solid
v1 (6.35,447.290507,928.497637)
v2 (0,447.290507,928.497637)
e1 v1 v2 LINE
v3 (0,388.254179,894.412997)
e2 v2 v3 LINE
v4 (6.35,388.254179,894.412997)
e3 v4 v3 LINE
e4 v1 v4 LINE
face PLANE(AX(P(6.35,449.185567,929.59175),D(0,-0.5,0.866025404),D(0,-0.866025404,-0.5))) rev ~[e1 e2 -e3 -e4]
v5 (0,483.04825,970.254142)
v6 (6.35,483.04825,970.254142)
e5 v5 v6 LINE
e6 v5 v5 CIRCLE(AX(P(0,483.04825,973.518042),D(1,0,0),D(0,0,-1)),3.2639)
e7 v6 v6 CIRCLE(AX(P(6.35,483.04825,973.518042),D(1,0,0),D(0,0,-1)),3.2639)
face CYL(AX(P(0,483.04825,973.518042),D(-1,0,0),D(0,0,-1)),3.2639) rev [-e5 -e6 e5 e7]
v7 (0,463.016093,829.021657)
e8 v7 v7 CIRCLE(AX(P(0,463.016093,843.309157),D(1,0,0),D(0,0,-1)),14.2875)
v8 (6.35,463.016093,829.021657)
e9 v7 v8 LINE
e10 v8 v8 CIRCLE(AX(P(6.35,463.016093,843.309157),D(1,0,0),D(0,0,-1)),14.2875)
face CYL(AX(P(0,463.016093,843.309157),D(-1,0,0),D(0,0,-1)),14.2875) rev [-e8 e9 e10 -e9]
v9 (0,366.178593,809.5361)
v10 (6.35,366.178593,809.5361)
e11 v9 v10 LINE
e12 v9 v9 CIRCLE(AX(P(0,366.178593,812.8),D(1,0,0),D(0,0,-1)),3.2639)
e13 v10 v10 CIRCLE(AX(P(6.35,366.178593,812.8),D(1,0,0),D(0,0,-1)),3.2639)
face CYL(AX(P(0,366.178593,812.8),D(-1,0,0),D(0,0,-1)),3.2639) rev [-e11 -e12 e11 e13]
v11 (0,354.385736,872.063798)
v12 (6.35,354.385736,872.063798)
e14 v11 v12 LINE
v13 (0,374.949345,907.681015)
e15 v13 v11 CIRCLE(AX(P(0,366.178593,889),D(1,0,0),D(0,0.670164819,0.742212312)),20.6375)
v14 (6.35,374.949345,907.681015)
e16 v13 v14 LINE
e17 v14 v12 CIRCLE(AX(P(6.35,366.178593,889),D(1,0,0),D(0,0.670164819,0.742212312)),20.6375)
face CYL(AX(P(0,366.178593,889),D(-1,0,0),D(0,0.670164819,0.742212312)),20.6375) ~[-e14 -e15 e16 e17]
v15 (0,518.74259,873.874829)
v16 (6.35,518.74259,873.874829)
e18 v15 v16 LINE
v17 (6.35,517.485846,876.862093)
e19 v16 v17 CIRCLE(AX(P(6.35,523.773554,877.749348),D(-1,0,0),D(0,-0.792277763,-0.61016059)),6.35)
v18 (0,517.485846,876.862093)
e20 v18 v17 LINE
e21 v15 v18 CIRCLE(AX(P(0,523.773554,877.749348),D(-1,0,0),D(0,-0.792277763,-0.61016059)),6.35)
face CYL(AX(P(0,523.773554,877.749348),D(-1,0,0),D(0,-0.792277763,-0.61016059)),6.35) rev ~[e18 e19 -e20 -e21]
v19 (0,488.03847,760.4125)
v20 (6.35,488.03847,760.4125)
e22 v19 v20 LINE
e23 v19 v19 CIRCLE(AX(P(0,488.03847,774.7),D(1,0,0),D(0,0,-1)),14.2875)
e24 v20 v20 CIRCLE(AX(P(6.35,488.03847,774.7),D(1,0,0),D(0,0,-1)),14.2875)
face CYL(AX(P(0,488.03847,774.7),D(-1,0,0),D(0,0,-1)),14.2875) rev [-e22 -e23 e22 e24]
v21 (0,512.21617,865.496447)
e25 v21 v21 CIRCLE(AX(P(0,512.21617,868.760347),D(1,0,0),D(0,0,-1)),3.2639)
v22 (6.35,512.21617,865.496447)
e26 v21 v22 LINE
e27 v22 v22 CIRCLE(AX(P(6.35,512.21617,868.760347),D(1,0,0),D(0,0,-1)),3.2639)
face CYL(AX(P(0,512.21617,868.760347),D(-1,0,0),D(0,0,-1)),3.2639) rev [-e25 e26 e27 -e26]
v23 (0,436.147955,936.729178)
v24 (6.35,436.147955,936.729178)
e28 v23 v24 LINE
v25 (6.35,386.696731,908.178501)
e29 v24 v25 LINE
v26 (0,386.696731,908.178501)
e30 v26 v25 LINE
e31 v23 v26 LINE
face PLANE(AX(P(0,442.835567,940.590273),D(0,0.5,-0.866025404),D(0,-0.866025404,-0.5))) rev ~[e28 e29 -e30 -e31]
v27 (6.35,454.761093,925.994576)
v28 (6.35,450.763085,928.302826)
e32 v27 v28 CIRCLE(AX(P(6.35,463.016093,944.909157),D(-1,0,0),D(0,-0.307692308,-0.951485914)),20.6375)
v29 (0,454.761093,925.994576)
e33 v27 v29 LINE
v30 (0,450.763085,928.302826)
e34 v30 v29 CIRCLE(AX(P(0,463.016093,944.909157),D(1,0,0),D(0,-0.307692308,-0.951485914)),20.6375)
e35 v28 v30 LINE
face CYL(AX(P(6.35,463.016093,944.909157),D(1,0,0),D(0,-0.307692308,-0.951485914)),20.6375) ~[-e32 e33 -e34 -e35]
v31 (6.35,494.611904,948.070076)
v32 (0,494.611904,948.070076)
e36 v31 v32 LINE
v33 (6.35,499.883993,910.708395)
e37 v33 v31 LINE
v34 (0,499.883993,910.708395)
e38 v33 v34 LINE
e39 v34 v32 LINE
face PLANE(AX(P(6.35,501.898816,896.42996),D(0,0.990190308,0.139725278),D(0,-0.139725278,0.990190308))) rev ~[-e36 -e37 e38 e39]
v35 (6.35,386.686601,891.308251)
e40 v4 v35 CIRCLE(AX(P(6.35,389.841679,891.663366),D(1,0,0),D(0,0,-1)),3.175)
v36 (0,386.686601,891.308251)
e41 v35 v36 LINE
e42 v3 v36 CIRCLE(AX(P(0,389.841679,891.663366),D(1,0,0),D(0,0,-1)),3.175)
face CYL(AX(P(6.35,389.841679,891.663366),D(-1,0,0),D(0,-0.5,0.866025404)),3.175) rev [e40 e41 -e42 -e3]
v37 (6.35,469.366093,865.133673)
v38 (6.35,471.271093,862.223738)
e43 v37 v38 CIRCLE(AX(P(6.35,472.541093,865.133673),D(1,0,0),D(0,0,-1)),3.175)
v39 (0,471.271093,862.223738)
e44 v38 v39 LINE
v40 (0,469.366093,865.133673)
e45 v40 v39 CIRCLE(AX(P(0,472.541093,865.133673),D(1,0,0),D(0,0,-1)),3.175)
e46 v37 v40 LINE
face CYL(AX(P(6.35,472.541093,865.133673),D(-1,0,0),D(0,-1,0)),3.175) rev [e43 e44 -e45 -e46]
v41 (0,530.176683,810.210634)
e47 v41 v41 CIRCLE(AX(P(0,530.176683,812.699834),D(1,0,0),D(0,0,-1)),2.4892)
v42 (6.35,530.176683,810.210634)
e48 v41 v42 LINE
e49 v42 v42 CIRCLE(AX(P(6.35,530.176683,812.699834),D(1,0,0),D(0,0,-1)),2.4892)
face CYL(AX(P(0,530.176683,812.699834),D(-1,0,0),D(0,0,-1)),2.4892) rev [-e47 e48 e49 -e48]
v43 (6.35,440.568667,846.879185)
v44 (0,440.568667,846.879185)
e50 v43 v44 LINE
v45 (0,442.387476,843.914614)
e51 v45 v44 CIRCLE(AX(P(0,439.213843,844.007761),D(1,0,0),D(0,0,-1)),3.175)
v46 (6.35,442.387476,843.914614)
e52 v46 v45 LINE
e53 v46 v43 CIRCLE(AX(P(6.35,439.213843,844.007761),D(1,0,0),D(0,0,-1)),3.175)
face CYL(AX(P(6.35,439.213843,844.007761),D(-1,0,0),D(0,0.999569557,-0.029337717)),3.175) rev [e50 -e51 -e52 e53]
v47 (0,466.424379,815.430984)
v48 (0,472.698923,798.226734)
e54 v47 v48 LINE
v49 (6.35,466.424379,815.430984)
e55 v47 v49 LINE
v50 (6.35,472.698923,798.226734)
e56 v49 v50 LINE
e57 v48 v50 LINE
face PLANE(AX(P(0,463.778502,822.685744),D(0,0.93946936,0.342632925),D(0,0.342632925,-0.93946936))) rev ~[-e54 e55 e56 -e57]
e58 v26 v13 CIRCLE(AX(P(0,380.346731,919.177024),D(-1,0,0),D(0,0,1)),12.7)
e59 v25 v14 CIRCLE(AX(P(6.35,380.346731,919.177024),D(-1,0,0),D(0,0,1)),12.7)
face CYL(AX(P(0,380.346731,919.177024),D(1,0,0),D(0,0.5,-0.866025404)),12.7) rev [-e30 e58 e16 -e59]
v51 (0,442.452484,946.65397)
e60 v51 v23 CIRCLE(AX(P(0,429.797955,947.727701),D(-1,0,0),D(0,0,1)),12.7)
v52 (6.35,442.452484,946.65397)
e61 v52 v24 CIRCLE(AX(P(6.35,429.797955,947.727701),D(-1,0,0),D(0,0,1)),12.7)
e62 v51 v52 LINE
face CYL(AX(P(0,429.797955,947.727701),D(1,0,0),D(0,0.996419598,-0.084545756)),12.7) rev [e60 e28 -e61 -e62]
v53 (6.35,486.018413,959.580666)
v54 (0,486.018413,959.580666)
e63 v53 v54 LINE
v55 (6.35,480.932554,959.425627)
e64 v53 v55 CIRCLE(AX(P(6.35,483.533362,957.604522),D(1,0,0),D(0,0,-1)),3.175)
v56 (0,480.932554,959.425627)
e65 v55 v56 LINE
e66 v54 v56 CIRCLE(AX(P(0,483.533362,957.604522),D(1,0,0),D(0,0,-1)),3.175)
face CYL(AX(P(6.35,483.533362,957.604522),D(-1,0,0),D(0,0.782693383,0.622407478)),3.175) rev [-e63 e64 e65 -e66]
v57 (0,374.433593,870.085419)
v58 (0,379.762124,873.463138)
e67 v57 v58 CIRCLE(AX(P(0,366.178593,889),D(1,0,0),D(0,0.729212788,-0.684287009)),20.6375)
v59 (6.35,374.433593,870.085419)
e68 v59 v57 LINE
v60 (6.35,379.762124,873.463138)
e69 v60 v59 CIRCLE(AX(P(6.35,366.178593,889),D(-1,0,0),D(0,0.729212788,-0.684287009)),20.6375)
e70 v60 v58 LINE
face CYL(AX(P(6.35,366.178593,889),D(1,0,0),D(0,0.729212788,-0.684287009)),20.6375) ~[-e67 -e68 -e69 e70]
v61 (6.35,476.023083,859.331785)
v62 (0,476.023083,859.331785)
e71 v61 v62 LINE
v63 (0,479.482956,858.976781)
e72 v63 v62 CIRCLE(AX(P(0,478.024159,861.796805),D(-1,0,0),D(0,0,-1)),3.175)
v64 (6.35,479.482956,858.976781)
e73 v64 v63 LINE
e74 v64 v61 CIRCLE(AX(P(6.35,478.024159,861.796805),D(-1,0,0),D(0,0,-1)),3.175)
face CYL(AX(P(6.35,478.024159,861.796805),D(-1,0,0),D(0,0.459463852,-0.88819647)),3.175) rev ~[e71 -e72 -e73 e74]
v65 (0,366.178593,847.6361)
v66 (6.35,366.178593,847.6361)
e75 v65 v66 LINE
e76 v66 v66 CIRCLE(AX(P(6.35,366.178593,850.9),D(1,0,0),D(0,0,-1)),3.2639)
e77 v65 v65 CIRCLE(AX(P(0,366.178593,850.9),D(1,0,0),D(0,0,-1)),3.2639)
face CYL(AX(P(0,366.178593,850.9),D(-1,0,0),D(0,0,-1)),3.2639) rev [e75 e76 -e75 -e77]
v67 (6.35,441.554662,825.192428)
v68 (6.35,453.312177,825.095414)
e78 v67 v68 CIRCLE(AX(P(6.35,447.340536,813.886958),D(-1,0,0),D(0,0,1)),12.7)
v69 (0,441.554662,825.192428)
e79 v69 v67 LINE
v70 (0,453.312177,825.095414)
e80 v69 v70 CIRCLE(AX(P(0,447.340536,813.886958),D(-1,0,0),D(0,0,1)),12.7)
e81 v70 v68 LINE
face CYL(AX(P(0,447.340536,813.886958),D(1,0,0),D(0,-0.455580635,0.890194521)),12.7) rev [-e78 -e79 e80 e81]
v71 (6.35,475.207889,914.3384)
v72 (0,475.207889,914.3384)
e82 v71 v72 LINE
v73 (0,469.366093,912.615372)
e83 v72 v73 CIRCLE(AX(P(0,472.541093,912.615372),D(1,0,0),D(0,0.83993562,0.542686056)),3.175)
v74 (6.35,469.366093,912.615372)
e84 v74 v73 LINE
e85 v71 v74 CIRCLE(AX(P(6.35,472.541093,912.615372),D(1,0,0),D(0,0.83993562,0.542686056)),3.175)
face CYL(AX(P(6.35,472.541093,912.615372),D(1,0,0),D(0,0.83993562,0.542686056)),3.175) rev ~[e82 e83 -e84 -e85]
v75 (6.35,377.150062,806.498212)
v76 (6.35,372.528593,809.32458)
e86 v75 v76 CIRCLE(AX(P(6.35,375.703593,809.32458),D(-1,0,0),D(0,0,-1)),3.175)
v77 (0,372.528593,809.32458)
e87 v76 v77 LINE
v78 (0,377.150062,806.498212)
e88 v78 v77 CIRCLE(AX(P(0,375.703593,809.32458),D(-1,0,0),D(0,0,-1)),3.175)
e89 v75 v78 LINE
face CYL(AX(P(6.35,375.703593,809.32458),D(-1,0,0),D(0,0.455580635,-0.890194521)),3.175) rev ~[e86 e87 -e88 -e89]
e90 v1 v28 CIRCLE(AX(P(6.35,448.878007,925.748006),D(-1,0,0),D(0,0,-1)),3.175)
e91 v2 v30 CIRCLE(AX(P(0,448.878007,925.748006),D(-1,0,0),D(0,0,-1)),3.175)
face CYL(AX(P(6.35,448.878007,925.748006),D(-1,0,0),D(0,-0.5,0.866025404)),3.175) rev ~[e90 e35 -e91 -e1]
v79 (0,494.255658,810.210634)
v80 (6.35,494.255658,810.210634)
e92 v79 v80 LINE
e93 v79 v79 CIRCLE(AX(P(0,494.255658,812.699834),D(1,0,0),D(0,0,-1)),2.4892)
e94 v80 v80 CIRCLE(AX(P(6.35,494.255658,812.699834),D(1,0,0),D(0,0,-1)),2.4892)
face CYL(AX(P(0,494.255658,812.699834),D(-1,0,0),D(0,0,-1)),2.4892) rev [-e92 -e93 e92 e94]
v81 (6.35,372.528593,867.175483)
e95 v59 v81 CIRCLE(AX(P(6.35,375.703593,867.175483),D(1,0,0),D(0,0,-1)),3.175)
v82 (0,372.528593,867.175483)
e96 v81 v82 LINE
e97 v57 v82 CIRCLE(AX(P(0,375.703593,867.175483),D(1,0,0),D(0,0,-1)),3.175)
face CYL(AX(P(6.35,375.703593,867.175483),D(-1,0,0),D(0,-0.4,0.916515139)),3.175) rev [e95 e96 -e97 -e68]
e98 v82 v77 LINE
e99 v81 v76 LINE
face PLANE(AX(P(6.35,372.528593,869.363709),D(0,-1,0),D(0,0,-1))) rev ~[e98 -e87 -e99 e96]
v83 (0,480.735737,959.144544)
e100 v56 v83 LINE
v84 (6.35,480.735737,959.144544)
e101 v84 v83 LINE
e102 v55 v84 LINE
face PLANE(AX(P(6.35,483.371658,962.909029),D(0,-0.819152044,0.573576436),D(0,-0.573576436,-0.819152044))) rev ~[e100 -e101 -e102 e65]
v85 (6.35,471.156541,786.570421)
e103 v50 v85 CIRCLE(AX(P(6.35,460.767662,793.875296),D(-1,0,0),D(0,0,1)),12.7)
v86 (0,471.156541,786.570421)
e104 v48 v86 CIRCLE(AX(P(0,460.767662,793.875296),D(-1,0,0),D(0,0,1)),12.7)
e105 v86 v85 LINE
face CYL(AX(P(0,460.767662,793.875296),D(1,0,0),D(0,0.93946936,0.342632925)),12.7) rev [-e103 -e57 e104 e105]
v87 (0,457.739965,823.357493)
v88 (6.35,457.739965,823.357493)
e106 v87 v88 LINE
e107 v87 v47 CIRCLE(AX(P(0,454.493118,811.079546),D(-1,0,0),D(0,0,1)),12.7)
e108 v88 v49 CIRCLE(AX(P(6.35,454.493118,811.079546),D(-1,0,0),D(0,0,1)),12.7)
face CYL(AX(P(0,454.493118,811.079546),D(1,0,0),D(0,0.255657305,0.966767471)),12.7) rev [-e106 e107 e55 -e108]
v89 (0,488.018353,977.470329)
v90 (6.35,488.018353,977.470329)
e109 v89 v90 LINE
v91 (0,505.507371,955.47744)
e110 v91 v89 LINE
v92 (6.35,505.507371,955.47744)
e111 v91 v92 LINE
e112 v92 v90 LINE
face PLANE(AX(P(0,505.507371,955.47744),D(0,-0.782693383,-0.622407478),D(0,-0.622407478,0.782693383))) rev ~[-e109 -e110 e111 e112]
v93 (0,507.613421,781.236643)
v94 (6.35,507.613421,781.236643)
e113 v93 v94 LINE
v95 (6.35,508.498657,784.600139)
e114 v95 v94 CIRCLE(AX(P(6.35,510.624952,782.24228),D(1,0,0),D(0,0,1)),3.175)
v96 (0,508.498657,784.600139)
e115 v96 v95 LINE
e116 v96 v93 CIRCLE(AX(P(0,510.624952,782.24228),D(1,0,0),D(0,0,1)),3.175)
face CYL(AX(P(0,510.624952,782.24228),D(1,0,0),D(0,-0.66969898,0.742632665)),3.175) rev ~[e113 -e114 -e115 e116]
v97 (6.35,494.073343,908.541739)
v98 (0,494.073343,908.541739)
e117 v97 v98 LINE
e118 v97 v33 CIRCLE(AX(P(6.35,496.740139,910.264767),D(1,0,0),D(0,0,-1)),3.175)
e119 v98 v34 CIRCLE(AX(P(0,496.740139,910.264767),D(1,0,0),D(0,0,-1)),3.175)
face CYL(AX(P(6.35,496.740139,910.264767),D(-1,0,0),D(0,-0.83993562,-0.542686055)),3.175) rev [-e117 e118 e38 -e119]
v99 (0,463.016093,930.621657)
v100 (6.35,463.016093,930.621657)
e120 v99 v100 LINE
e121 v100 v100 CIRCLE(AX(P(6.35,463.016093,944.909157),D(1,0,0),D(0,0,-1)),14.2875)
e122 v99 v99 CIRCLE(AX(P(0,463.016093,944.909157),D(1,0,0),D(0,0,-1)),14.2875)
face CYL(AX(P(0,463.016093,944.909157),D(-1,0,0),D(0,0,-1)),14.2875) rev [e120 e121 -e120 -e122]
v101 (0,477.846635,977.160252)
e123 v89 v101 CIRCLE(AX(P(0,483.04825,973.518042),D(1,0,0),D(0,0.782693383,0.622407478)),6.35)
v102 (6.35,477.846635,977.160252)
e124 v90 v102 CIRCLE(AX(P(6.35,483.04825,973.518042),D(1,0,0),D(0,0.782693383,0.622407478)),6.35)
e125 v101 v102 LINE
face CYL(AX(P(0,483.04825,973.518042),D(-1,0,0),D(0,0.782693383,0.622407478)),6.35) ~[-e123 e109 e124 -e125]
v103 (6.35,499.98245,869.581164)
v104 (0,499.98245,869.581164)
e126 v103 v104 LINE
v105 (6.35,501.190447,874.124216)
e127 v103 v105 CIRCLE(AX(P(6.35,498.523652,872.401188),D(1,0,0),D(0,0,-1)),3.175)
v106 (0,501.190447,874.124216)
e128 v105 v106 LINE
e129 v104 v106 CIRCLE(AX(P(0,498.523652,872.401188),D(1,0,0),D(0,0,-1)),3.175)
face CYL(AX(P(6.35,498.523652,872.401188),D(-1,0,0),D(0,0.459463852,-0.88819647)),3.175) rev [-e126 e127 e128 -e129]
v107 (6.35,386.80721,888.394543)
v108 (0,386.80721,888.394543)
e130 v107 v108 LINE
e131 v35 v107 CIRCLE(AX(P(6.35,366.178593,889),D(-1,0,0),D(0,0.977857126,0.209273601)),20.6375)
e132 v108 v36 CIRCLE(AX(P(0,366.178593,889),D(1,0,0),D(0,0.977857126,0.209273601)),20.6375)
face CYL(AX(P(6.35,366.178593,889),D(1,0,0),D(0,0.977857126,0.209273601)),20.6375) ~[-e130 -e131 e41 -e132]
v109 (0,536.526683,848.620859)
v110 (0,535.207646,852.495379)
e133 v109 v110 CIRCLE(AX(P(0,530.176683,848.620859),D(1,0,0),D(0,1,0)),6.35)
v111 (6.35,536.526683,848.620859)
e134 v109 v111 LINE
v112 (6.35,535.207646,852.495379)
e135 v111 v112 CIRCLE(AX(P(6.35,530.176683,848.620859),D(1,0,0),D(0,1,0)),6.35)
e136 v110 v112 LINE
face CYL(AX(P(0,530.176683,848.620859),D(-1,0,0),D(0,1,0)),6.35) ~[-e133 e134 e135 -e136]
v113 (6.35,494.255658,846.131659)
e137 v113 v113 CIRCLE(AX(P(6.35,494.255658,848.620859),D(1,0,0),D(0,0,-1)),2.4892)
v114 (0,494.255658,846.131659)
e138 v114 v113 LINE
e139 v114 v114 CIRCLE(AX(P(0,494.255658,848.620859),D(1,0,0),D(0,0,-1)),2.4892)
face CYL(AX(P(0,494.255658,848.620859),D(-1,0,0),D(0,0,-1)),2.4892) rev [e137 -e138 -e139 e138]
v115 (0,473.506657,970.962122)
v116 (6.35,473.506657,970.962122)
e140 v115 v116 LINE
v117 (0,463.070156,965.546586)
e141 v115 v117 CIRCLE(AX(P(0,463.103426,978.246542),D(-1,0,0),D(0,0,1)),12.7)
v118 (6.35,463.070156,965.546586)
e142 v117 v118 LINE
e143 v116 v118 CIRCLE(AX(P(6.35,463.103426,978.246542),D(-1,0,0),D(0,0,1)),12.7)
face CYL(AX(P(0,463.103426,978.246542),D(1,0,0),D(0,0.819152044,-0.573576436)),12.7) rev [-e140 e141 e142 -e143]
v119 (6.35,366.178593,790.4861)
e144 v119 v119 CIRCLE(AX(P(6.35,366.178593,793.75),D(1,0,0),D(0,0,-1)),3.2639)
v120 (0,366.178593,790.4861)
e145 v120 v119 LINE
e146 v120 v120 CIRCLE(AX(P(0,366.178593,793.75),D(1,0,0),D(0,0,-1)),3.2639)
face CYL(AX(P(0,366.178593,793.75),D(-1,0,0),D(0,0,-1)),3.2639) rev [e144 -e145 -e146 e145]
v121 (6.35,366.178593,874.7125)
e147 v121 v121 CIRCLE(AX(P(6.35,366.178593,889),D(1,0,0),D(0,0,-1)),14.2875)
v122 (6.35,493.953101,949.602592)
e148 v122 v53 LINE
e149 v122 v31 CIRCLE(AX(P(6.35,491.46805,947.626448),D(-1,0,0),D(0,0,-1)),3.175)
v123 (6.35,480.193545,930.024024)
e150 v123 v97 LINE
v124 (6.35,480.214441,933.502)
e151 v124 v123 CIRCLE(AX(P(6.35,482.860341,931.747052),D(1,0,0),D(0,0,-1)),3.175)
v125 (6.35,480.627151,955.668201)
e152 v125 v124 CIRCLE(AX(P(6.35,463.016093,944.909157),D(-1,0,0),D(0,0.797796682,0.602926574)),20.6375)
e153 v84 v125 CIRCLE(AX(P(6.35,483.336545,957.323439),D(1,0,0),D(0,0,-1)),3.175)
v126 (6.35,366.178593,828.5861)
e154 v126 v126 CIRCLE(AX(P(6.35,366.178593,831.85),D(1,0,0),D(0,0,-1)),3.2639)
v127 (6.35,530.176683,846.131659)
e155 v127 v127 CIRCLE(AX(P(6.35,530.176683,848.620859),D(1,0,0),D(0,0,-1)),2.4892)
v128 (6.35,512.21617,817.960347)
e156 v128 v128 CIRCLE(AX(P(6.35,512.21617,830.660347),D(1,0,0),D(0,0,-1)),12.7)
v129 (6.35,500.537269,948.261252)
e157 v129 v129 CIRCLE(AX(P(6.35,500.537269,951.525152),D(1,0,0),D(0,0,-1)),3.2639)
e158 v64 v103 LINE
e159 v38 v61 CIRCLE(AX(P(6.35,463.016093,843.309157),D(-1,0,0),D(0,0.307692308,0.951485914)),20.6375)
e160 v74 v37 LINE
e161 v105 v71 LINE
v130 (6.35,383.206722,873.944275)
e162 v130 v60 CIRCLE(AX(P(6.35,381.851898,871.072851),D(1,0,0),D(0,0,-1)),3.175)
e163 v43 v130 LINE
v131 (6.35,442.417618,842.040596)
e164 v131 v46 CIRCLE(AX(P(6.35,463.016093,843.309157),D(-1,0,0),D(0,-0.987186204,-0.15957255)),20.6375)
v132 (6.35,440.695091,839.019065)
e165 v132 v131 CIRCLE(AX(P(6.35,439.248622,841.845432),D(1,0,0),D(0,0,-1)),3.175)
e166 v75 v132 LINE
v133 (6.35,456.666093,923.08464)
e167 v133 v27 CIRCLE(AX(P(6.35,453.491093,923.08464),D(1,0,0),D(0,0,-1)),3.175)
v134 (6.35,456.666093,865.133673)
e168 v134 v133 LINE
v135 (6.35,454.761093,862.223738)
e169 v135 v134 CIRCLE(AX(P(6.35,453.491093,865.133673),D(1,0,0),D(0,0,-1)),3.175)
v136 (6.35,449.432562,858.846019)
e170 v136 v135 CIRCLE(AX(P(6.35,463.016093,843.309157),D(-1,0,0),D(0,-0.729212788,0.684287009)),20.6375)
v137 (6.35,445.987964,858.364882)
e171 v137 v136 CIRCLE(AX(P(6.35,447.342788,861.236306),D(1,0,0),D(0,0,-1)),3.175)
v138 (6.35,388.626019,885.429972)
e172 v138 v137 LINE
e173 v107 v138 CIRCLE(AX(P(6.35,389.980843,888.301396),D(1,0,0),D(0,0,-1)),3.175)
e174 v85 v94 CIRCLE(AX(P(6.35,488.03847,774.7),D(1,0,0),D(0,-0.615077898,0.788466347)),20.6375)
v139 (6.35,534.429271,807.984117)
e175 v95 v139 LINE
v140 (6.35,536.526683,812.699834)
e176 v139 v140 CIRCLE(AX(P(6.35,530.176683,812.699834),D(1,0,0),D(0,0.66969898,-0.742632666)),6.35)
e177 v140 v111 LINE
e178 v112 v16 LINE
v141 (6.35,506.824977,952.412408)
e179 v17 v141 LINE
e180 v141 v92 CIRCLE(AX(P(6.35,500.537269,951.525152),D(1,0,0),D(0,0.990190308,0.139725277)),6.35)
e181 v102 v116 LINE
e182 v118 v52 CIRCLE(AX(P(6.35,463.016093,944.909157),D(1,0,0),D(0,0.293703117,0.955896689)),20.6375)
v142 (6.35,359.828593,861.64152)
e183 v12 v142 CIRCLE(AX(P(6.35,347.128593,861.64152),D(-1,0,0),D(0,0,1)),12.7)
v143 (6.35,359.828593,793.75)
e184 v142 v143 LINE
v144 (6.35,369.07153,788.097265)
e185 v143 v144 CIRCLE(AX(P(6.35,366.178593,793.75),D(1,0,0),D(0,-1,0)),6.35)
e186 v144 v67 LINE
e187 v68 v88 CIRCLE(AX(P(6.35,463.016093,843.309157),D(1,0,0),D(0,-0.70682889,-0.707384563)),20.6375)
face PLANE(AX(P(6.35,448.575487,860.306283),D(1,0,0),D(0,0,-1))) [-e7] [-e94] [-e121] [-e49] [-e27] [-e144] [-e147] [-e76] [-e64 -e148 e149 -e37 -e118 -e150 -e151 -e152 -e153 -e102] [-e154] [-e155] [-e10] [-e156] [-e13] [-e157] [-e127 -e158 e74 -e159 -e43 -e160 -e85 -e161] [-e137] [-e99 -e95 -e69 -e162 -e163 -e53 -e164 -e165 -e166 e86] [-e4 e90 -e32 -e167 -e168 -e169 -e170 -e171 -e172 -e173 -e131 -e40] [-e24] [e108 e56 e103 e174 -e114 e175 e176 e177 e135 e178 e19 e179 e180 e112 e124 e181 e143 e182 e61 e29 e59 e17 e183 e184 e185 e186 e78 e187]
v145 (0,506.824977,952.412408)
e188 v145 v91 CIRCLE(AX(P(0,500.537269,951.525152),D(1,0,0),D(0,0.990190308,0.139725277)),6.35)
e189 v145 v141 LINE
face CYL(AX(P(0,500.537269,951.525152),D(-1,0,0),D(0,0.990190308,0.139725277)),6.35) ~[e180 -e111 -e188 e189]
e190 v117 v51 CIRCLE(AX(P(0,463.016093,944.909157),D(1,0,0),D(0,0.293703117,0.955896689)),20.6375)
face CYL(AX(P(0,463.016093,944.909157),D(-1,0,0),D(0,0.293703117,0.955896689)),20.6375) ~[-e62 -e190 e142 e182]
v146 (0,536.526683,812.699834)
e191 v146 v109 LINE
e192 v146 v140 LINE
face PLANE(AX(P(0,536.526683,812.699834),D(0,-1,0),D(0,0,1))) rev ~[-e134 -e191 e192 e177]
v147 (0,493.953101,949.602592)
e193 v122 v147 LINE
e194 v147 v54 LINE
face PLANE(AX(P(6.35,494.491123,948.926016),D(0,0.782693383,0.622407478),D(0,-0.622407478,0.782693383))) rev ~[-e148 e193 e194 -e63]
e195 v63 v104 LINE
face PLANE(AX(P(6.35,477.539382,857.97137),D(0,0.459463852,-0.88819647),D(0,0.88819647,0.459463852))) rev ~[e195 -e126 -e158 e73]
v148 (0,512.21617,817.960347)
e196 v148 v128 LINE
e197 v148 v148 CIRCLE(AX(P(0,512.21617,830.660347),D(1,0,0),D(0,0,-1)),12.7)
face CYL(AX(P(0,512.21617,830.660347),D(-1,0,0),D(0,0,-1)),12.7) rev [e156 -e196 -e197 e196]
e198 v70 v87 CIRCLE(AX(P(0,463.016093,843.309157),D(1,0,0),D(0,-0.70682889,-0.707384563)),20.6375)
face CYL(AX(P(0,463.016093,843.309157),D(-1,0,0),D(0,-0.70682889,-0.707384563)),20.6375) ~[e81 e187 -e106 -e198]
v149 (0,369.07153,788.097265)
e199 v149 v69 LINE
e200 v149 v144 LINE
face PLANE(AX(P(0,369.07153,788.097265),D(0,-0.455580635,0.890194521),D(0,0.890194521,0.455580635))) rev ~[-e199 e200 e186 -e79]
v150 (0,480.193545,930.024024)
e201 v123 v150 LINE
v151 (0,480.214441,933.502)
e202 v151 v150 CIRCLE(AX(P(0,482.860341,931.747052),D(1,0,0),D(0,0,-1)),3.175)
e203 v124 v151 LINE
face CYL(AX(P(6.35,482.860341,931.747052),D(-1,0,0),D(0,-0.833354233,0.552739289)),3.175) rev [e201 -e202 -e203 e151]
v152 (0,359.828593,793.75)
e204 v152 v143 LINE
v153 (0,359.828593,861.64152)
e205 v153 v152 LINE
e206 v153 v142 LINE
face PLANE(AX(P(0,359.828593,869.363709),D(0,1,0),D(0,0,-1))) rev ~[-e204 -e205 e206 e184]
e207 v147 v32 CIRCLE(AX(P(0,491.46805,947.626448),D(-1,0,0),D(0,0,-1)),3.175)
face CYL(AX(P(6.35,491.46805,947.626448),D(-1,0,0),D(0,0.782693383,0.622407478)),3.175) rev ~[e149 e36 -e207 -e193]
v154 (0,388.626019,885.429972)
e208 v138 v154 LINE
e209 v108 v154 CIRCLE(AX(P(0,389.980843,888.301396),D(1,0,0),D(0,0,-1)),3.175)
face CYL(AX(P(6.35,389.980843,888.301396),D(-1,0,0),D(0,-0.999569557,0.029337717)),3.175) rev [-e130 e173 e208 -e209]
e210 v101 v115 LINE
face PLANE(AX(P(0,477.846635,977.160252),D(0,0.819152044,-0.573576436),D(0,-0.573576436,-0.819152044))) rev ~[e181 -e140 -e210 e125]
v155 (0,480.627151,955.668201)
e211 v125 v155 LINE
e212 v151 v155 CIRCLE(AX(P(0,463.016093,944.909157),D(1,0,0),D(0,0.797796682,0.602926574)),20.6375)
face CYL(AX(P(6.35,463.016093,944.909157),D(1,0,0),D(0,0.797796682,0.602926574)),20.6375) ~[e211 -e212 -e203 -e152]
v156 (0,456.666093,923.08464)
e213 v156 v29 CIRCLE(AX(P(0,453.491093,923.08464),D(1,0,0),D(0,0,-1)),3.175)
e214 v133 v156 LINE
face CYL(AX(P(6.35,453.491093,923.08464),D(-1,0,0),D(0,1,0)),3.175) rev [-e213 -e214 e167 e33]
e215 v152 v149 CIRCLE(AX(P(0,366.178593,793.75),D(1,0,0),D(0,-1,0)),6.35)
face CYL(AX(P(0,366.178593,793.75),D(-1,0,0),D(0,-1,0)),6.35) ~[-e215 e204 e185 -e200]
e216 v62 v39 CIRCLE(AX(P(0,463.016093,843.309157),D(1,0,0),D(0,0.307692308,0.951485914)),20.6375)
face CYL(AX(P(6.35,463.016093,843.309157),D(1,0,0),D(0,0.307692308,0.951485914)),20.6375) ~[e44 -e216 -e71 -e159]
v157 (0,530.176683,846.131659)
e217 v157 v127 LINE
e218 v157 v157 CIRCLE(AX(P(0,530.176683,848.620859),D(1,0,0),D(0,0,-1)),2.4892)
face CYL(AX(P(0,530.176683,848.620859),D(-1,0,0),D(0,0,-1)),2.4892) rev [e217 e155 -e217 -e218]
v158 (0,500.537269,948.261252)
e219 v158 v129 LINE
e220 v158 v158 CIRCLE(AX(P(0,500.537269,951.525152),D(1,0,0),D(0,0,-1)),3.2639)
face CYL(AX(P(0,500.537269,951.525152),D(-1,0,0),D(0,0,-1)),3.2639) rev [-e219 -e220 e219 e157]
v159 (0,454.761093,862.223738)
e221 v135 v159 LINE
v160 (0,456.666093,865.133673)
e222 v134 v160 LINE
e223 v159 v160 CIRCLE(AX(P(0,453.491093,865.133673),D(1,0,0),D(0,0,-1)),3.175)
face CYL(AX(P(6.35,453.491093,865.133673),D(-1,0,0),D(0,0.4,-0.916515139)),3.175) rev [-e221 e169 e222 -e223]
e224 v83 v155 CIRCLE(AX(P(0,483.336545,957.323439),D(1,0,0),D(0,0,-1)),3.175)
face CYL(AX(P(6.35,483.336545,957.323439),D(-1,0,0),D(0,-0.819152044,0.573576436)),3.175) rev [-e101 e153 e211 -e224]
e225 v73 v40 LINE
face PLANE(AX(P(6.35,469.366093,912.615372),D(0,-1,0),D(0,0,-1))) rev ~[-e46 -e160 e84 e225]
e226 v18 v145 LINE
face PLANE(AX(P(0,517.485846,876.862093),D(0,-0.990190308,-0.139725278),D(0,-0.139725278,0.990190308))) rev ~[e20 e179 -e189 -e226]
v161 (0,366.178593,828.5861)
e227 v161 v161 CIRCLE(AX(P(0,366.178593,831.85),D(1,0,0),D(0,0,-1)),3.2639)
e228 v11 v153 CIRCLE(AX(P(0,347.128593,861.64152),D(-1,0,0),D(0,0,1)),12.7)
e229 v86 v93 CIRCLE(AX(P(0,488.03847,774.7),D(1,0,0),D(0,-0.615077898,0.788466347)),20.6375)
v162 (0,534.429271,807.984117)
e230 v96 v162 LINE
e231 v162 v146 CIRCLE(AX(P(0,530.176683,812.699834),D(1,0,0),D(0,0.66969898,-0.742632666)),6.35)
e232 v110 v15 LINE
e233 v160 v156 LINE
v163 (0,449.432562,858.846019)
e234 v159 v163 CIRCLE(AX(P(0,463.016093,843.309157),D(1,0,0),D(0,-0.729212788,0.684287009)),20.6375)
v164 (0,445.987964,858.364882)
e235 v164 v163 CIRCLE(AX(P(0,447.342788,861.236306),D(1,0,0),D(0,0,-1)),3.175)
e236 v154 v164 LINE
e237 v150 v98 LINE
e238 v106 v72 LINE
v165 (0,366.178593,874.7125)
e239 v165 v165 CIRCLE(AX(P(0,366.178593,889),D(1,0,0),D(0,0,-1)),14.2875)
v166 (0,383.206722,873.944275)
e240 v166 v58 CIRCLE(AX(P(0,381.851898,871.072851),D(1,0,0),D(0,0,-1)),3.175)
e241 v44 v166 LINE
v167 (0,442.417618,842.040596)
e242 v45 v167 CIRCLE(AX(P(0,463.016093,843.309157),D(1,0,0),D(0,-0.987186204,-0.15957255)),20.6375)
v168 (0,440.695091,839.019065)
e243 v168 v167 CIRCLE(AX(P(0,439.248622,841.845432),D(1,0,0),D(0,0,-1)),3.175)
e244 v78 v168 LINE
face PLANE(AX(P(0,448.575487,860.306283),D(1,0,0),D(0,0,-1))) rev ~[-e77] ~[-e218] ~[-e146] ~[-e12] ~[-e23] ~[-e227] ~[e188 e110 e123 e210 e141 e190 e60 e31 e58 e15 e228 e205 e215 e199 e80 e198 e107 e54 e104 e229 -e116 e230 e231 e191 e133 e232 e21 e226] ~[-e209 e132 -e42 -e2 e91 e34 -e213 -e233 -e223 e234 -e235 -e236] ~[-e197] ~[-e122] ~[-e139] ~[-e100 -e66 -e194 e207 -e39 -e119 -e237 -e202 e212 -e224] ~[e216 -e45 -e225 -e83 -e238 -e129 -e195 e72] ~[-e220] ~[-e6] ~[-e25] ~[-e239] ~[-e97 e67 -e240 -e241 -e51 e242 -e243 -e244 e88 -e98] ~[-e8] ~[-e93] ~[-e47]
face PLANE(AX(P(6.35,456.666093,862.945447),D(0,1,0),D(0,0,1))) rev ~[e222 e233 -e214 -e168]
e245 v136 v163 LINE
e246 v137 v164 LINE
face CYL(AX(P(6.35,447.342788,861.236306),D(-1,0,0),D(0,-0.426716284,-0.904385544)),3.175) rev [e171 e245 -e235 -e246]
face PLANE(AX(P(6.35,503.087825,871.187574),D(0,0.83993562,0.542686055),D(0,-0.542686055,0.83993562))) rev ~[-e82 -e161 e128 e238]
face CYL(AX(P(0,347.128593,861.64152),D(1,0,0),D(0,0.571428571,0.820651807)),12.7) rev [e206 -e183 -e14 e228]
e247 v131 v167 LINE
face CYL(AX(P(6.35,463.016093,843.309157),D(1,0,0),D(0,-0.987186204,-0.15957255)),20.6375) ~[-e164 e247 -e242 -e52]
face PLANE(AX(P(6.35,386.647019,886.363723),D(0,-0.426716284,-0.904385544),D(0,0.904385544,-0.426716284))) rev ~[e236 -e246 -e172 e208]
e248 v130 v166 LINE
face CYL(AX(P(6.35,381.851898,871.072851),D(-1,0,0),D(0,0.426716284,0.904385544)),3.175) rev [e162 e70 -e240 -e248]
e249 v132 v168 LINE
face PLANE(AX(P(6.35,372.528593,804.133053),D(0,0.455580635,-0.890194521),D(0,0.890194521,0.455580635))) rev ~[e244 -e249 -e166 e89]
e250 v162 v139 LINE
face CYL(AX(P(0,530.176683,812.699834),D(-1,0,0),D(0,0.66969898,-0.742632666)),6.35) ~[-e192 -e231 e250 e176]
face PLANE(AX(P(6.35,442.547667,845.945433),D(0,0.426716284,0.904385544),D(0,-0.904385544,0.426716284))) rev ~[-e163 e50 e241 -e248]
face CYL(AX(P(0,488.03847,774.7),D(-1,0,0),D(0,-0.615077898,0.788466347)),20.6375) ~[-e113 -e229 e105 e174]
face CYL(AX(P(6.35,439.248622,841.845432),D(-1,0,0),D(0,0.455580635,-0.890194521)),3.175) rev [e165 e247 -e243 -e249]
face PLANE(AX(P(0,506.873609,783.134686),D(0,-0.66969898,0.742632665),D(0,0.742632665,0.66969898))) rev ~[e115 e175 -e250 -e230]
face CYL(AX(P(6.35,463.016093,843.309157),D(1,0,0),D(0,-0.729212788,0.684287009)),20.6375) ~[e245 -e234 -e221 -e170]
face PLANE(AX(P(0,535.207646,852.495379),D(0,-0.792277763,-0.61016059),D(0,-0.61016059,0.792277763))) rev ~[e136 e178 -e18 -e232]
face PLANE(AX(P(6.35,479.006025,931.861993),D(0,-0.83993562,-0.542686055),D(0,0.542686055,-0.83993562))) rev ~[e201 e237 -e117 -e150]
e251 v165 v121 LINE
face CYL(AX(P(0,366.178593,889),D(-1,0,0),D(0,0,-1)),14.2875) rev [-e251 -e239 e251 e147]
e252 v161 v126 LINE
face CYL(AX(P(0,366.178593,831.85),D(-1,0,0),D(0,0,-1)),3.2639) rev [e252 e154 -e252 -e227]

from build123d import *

# Parameters (mm, degrees)
SKETCH1_R           = 14.2875
SKETCH1_R_2         = 3.2639
SKETCH1_R_3         = 2.4892
SKETCH1_R_4         = 12.7
BOSS_EXTRUDE1_DEPTH = 6.35
FILLET1_R           = 12.7
CUT_EXTRUDE1_DEPTH  = 1118.158262331
FILLET2_R           = 3.175


with BuildPart() as part:
    # Sketch1 → Boss-Extrude1 (new body)
    with BuildSketch(Plane(origin=(0, 0, 0), x_dir=(0, 0, -1), z_dir=(1, 0, 0))):
        with BuildLine():
            ThreePointArc((-977.470329324, 488.018353149), (-979.865093402, 482.854765121), (-977.16025221, 477.846634687))
            Line((-977.16025221, 477.846634687), (-964.636474603, 469.0773912))
            ThreePointArc((-964.636474603, 469.0773912), (-960.124717731, 449.073600219), (-940.590272736, 442.835566684))
            Line((-940.590272736, 442.835566684), (-904.317406585, 380.009119575))
            ThreePointArc((-904.317406585, 380.009119575), (-899.31875, 348.305993858), (-869.363709458, 359.828593129))
            Line((-869.363709458, 359.828593129), (-793.75, 359.828593129))
            ThreePointArc((-793.75, 359.828593129), (-788.33277515, 362.865562051), (-788.097264793, 369.071530162))
            Line((-788.097264793, 369.071530162), (-828.71050777, 448.428911911))
            ThreePointArc((-828.71050777, 448.428911911), (-824.098459608, 455.475832937), (-822.685744308, 463.778502368))
            Line((-822.685744308, 463.778502368), (-790.971974231, 475.344799559))
            ThreePointArc((-790.971974231, 475.344799559), (-754.671988994, 483.059997875), (-783.134686327, 506.873608979))
            Line((-783.134686327, 506.873608979), (-807.984116899, 534.429271156))
            ThreePointArc((-807.984116899, 534.429271156), (-810.119275968, 535.978683887), (-812.699834325, 536.526682631))
            Line((-812.699834325, 536.526682631), (-848.620858809, 536.526682631))
            ThreePointArc((-848.620858809, 536.526682631), (-850.667304495, 536.18788551), (-852.495378558, 535.207646428))
            Line((-852.495378558, 535.207646428), (-873.874828732, 518.742590175))
            ThreePointArc((-873.874828732, 518.742590175), (-875.286935498, 517.920433239), (-876.862092968, 517.485845513))
            Line((-876.862092968, 517.485845513), (-952.412407774, 506.824976977))
            ThreePointArc((-952.412407774, 506.824976977), (-954.033002966, 506.371065297), (-955.477439746, 505.507371499))
            Line((-955.477439746, 505.507371499), (-977.470329324, 488.018353149))
        make_face()
        with Locations((-774.7, 488.038469669)):
            Circle(SKETCH1_R, mode=Mode.SUBTRACT)
        with Locations((-843.309156693, 463.016093129)):
            Circle(SKETCH1_R, mode=Mode.SUBTRACT)
        with Locations((-889, 366.178593129)):
            Circle(SKETCH1_R, mode=Mode.SUBTRACT)
        with Locations((-944.909156693, 463.016093129)):
            Circle(SKETCH1_R, mode=Mode.SUBTRACT)
        with Locations((-850.9, 366.178593129)):
            Circle(SKETCH1_R_2, mode=Mode.SUBTRACT)
        with Locations((-831.85, 366.178593129)):
            Circle(SKETCH1_R_2, mode=Mode.SUBTRACT)
        with Locations((-812.8, 366.178593129)):
            Circle(SKETCH1_R_2, mode=Mode.SUBTRACT)
        with Locations((-793.75, 366.178593129)):
            Circle(SKETCH1_R_2, mode=Mode.SUBTRACT)
        with Locations((-973.518041839, 483.048250169)):
            Circle(SKETCH1_R_2, mode=Mode.SUBTRACT)
        with Locations((-951.525152262, 500.537268519)):
            Circle(SKETCH1_R_2, mode=Mode.SUBTRACT)
        with Locations((-868.760346567, 512.216170389)):
            Circle(SKETCH1_R_2, mode=Mode.SUBTRACT)
        with Locations((-848.620858809, 494.255658147)):
            Circle(SKETCH1_R_3, mode=Mode.SUBTRACT)
        with Locations((-812.699834325, 494.255658147)):
            Circle(SKETCH1_R_3, mode=Mode.SUBTRACT)
        with Locations((-830.660346567, 512.216170389)):
            Circle(SKETCH1_R_4, mode=Mode.SUBTRACT)
        with Locations((-848.620858809, 530.176682631)):
            Circle(SKETCH1_R_3, mode=Mode.SUBTRACT)
        with Locations((-812.699834325, 530.176682631)):
            Circle(SKETCH1_R_3, mode=Mode.SUBTRACT)
    extrude(amount=BOSS_EXTRUDE1_DEPTH)

    # Fillet1
    fillet1_edges = [part.edges().sort_by_distance(p)[0] for p in [
        (3.175, 475.344799559, 790.971974231),
        (3.175, 463.778502368, 822.685744308),
        (3.175, 448.428911911, 828.71050777),
        (3.175, 359.828593129, 869.363709458),
        (3.175, 380.009119575, 904.317406585),
        (3.175, 442.835566684, 940.590272736),
        (3.175, 469.0773912, 964.636474603),
    ]]
    fillet(fillet1_edges, radius=FILLET1_R)

    # Sketch2 → Cut-Extrude1 (cut, through all)
    with BuildSketch(Plane(origin=(6.35, 0, 0), x_dir=(0, 0, -1), z_dir=(1, 0, 0))):
        with BuildLine():
            Line((-948.926016287, 494.491122688), (-962.909028761, 483.371657877))
            Line((-962.909028761, 483.371657877), (-957.352053862, 479.480622163))
            ThreePointArc((-957.352053862, 479.480622163), (-944.524975807, 483.650016927), (-931.861993278, 479.00602537))
            Line((-931.861993278, 479.00602537), (-896.429960387, 501.898815853))
            Line((-896.429960387, 501.898815853), (-948.926016287, 494.491122688))
        make_face()
        with BuildLine():
            Line((-857.971369961, 477.539381611), (-871.187574345, 503.08782473))
            Line((-871.187574345, 503.08782473), (-914.338399947, 475.207888722))
            ThreePointArc((-914.338399947, 475.207888722), (-915.66067146, 471.642886863), (-912.615371721, 469.366093129))
            Line((-912.615371721, 469.366093129), (-862.945447235, 469.366093129))
            ThreePointArc((-862.945447235, 469.366093129), (-860.938606544, 473.744974907), (-857.971369961, 477.539381611))
        make_face()
        with BuildLine():
            ThreePointArc((-925.272866151, 456.666093129), (-927.036557422, 452.697343129), (-929.591750108, 449.185566684))
            Line((-929.591750108, 449.185566684), (-893.318883957, 386.359119575))
            ThreePointArc((-893.318883957, 386.359119575), (-889.853529885, 386.798435344), (-886.363723266, 386.647018844))
            Line((-886.363723266, 386.647018844), (-857.431129838, 447.966964226))
            ThreePointArc((-857.431129838, 447.966964226), (-860.739698931, 451.966993458), (-862.945447235, 456.666093129))
            Line((-862.945447235, 456.666093129), (-925.272866151, 456.666093129))
        make_face()
        with BuildLine():
            Line((-804.13305316, 372.528593129), (-840.015978185, 442.643037846))
            ThreePointArc((-840.015978185, 442.643037846), (-842.977262335, 442.381262081), (-845.945433426, 442.547667414))
            Line((-845.945433426, 442.547667414), (-874.878026855, 381.227722032))
            ThreePointArc((-874.878026855, 381.227722032), (-871.569457762, 377.2276928), (-869.363709458, 372.528593129))
            Line((-869.363709458, 372.528593129), (-804.13305316, 372.528593129))
        make_face()
    extrude(amount=-CUT_EXTRUDE1_DEPTH, mode=Mode.SUBTRACT)

    # Fillet2
    fillet2_edges = [part.edges().sort_by_distance(p)[0] for p in [
        (3.175, 479.00602537, 931.861993278),
        (3.175, 479.480622163, 957.352053862),
        (3.175, 483.371657877, 962.909028761),
        (3.175, 494.491122688, 948.926016287),
        (3.175, 501.898815853, 896.429960387),
        (3.175, 386.647018844, 886.363723266),
        (3.175, 386.359119575, 893.318883957),
        (3.175, 449.185566684, 929.591750108),
        (3.175, 456.666093129, 925.272866151),
        (3.175, 456.666093129, 862.945447235),
        (3.175, 447.966964226, 857.431129838),
        (3.175, 372.528593129, 869.363709458),
        (3.175, 381.227722032, 874.878026855),
        (3.175, 442.547667414, 845.945433426),
        (3.175, 442.643037846, 840.015978185),
        (3.175, 372.528593129, 804.13305316),
        (3.175, 503.08782473, 871.187574345),
        (3.175, 477.539381611, 857.971369961),
        (3.175, 469.366093129, 862.945447235),
        (3.175, 506.873608979, 783.134686327),
    ]]
    fillet(fillet2_edges, radius=FILLET2_R)


solid = part.part
